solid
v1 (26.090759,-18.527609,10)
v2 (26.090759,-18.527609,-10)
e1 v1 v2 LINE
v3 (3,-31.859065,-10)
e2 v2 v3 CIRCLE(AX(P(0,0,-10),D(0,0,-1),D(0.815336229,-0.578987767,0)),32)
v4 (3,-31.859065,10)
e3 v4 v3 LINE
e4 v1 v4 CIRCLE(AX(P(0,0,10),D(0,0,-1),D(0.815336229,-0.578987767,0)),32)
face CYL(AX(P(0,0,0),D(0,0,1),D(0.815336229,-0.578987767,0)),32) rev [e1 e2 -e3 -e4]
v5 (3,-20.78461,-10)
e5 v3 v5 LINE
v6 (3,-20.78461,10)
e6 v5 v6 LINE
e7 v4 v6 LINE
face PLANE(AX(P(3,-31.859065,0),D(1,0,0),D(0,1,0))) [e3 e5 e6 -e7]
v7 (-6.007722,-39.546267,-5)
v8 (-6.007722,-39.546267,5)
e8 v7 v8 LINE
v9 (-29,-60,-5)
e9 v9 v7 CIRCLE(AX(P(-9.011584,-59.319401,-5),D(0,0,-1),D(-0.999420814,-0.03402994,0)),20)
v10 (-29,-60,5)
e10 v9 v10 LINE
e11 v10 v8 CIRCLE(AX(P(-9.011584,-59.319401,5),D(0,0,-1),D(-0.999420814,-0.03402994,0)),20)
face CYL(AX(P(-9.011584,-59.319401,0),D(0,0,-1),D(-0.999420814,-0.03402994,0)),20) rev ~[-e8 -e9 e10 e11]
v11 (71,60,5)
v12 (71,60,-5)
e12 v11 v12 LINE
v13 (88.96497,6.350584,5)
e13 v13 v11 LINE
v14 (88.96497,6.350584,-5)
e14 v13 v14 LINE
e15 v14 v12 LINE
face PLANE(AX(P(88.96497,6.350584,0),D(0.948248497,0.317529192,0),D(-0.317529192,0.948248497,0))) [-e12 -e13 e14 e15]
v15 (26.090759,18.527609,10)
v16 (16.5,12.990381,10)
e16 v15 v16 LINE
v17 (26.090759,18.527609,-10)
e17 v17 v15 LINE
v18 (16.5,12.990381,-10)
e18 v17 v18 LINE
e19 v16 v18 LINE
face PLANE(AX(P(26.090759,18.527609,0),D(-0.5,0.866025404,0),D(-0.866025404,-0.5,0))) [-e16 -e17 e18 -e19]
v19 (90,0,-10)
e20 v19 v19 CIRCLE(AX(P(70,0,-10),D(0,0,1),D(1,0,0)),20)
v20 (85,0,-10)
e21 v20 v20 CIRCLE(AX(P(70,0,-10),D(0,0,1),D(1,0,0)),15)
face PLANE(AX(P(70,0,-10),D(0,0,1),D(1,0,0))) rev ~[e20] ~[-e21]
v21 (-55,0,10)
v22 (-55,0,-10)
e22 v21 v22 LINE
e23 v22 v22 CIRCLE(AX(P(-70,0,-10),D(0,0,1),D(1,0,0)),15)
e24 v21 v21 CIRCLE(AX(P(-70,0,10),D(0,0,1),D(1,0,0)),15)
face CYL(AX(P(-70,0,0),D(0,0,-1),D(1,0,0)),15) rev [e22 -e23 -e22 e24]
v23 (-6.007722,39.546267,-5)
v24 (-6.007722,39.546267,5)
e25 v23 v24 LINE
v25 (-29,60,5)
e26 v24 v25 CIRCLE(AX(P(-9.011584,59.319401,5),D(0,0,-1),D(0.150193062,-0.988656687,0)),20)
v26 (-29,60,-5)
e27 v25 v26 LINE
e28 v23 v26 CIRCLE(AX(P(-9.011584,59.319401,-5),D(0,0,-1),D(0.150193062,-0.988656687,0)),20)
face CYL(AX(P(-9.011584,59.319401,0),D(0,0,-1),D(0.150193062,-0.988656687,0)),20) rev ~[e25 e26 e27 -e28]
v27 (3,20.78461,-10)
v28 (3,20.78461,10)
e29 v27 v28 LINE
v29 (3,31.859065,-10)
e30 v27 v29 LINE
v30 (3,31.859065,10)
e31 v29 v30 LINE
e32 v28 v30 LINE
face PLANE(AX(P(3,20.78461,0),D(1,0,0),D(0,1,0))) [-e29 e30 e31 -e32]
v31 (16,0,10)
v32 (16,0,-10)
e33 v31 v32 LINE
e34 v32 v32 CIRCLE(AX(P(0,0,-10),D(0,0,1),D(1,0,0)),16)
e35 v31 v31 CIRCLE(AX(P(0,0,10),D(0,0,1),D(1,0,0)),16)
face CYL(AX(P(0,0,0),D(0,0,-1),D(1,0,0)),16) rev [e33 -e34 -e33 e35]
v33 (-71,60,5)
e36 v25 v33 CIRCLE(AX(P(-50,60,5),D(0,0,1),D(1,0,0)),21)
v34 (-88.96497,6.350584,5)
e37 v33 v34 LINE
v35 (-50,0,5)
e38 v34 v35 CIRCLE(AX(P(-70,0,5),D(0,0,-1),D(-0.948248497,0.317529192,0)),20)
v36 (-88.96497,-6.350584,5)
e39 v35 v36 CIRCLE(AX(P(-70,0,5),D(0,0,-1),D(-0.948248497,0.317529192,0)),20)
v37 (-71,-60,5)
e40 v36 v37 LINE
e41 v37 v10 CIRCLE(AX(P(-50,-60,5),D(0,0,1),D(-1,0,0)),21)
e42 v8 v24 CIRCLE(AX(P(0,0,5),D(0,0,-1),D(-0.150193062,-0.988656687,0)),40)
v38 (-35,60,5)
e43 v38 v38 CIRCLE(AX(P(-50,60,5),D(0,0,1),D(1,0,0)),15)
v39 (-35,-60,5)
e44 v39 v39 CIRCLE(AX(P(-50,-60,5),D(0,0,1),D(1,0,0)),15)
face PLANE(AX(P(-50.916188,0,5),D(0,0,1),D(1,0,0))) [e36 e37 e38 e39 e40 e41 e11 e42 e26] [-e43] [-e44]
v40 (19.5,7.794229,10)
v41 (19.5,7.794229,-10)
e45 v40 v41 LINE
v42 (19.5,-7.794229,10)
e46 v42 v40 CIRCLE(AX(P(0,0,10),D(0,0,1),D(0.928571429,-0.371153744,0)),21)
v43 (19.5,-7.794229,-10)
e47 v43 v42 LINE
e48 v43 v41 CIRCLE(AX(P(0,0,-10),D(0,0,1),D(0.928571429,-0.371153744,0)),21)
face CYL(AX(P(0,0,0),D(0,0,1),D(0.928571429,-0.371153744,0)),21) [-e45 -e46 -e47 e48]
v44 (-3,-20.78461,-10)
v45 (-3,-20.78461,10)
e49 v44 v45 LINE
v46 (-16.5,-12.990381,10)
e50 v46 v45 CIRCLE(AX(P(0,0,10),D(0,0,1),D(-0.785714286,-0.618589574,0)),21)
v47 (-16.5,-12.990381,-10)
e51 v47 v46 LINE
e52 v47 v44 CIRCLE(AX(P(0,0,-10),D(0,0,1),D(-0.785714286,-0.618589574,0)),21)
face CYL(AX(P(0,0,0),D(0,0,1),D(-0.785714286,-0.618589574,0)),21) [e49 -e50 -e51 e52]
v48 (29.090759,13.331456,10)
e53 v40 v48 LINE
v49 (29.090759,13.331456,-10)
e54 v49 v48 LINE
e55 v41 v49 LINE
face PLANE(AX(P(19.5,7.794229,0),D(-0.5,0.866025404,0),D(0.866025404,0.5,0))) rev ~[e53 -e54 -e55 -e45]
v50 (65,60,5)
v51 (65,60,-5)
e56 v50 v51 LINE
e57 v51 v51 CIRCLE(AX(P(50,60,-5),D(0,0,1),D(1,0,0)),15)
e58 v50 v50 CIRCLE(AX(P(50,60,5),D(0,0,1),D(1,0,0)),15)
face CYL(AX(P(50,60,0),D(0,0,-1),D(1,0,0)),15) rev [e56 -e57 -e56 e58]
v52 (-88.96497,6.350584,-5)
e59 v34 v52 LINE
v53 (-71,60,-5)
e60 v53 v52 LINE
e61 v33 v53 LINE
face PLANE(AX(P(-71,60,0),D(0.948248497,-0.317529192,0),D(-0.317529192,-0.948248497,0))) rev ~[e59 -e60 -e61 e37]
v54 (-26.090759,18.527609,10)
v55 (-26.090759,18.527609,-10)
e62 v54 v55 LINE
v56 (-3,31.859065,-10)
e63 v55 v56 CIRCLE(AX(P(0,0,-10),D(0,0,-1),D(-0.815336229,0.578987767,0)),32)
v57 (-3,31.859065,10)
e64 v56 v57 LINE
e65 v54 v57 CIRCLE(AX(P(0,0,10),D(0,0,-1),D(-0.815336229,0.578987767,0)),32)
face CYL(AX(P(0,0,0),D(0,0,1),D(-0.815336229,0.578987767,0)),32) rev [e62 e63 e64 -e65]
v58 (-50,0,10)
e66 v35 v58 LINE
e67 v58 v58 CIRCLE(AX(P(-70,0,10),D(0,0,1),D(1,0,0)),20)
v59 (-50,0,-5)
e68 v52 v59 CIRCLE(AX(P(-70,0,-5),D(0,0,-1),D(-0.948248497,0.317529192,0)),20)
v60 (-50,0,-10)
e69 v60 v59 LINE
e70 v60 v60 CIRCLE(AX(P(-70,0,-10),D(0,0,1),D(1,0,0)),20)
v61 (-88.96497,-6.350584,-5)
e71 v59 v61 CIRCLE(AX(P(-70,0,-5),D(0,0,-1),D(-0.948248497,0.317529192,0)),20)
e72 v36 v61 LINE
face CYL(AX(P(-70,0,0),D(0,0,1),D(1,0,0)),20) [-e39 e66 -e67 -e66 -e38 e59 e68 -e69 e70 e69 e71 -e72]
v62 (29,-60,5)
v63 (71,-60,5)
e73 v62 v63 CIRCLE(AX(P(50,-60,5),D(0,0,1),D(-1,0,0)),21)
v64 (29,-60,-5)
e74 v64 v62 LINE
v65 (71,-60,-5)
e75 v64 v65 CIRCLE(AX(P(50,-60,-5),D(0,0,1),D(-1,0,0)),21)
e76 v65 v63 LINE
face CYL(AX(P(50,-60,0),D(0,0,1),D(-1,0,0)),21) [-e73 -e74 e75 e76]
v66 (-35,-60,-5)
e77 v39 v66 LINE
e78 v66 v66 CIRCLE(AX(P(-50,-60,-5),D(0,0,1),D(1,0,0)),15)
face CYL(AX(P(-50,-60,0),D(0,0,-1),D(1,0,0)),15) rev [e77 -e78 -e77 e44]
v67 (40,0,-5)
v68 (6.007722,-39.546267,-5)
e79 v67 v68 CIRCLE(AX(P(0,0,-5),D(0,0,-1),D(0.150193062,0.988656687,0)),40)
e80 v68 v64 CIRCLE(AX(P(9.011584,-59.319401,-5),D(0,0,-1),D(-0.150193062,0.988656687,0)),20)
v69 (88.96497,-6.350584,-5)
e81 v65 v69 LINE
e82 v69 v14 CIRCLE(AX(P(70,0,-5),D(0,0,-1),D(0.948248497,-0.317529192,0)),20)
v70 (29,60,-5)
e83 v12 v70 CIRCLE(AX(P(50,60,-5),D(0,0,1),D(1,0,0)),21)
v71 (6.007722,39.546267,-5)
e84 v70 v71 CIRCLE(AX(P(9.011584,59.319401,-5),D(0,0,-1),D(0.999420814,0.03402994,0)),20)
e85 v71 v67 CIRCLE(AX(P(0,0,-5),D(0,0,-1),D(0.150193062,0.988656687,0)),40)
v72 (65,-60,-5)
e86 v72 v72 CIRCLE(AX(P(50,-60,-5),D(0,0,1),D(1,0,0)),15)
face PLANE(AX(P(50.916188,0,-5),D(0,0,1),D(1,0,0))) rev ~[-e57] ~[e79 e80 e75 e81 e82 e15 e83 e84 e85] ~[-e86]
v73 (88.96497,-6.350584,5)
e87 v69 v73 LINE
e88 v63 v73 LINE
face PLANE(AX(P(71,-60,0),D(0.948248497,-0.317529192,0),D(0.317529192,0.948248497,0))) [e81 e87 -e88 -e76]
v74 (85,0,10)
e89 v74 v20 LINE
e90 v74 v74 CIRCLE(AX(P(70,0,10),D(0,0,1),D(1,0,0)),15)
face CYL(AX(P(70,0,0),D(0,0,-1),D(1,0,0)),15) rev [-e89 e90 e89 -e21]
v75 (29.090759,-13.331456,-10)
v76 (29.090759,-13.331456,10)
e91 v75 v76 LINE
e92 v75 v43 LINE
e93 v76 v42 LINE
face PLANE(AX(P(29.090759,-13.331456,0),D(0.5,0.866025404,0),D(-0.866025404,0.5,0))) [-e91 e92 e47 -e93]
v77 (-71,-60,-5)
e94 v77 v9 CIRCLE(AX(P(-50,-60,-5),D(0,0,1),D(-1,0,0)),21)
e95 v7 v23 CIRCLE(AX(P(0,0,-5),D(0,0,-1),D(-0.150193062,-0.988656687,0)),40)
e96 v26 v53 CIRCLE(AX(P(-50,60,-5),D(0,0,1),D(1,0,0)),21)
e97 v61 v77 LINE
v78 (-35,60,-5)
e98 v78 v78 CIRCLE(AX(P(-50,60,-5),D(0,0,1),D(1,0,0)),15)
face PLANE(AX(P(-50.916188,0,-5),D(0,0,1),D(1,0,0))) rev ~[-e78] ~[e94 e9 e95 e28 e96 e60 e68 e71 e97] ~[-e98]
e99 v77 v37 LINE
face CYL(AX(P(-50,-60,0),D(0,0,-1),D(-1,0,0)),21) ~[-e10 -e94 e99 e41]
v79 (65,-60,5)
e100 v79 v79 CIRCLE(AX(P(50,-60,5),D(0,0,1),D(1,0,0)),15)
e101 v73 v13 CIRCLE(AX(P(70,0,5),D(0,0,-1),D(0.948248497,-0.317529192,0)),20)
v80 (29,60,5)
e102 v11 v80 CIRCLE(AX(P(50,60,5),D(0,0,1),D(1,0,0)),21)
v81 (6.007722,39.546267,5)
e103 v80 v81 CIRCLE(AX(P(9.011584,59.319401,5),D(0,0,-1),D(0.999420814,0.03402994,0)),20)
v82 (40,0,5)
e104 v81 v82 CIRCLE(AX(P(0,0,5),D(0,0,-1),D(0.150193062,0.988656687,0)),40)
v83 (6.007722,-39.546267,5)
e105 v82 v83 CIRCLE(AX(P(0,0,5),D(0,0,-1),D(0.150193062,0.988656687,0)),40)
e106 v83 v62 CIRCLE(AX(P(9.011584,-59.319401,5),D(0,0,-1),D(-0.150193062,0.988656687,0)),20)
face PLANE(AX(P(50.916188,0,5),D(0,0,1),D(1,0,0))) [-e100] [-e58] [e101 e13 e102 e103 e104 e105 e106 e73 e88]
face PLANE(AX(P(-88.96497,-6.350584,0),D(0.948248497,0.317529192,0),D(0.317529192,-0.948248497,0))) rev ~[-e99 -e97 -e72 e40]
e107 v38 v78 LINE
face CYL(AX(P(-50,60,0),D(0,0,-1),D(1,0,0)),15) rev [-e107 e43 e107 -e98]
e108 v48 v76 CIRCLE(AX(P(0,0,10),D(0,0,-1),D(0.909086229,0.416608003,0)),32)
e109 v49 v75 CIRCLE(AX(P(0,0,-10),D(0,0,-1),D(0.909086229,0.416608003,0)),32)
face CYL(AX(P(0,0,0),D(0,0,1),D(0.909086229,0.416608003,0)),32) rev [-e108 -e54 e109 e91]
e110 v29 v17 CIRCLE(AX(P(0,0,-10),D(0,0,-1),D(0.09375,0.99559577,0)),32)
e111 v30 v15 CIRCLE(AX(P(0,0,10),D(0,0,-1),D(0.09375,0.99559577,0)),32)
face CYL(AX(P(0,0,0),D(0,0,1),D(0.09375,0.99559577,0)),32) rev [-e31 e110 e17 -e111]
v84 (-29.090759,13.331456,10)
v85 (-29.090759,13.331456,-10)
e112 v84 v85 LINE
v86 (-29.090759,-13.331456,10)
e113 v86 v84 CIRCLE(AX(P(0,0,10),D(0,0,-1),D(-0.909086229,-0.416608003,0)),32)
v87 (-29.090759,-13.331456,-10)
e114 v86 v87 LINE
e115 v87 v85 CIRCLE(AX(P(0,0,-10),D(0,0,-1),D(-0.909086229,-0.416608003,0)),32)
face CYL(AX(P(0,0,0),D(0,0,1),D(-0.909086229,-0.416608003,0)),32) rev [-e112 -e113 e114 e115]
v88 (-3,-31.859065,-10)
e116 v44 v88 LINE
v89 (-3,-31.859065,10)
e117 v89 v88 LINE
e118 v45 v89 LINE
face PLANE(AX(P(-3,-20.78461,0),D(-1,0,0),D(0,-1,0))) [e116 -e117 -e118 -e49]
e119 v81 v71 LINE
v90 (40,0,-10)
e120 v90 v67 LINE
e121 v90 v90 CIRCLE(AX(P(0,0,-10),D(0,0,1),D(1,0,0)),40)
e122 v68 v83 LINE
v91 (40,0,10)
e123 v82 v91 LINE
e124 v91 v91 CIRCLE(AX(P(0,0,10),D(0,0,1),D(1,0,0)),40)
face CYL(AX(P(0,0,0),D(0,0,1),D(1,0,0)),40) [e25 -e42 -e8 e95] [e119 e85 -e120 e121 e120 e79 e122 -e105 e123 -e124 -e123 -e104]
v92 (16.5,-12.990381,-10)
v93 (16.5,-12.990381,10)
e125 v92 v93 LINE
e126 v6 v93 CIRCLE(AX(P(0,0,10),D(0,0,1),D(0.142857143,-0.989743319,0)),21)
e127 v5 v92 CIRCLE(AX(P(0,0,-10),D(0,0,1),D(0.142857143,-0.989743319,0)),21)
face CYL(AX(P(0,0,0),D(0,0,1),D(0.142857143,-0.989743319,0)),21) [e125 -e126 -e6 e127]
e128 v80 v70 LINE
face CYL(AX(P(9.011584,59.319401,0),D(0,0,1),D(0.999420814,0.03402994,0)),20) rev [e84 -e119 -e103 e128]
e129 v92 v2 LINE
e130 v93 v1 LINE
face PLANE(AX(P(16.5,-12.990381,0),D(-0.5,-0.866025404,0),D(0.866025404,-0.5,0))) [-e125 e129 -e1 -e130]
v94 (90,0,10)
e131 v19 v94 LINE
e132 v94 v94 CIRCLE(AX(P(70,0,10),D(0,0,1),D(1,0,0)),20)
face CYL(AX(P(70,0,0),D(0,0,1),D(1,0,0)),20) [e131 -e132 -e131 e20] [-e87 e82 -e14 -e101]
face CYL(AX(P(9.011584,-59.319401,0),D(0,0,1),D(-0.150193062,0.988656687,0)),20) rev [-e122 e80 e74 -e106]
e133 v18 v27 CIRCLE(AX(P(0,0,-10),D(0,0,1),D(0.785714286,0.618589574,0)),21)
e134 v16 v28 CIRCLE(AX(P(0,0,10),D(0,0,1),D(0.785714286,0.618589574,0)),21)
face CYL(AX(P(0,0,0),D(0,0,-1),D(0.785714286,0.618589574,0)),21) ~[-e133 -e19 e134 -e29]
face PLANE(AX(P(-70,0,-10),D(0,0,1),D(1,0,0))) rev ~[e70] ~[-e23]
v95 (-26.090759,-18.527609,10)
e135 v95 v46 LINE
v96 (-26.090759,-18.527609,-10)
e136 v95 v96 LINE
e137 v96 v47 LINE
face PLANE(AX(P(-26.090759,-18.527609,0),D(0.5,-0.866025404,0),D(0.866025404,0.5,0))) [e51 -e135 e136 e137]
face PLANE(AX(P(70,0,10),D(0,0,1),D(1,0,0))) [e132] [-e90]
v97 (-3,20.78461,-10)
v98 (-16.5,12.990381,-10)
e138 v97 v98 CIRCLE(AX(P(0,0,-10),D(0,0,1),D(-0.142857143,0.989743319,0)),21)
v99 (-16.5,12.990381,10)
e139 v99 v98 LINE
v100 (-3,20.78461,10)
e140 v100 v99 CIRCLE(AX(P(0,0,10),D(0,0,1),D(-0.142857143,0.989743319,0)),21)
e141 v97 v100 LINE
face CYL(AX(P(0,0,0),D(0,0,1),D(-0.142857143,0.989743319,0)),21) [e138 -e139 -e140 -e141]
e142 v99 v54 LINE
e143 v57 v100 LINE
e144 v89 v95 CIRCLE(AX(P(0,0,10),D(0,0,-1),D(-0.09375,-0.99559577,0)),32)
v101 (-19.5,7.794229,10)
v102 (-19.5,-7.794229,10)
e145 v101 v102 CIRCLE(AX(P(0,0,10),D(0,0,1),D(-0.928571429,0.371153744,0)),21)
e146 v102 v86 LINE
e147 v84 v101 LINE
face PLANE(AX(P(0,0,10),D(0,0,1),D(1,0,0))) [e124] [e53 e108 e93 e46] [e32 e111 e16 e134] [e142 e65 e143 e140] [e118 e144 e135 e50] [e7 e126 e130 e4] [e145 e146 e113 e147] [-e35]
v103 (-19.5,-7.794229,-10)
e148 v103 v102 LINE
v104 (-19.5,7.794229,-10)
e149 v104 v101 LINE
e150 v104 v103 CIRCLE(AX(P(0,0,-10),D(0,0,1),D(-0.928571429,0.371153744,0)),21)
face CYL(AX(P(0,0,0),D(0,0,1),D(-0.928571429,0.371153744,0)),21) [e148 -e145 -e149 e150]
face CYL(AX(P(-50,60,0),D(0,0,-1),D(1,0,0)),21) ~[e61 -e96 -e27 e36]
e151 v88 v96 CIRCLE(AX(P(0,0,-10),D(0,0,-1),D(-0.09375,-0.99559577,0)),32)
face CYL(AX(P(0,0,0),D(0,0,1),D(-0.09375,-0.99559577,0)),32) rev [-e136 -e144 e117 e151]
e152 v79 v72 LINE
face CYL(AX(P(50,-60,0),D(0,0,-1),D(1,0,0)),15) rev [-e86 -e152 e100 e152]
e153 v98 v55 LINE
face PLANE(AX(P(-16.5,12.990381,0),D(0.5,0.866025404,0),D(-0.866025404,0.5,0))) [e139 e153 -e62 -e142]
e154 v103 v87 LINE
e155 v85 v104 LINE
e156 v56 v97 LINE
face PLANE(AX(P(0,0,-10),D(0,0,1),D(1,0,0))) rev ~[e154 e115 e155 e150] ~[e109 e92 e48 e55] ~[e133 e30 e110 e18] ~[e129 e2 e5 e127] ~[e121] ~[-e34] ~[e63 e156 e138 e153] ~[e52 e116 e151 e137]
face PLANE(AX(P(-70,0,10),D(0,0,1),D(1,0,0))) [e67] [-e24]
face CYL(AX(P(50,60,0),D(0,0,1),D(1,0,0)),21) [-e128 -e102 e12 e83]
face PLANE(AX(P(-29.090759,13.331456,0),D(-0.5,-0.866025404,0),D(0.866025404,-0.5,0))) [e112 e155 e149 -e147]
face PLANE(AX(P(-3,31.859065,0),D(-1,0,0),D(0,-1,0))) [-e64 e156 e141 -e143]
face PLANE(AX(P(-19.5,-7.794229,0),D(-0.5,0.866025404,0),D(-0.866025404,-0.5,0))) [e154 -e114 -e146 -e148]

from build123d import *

# Parameters (mm, degrees)
SKETCH1_R             = 20
SKETCH1_R_2           = 15
BOSS_EXTRUDE1_DEPTH   = 10
SKETCH1_R_3           = 40
SKETCH1_R_4           = 16
BOSS_EXTRUDE1_2_DEPTH = 10
BOSS_EXTRUDE1_3_DEPTH = 10
SKETCH1_4_R           = 15
BOSS_EXTRUDE2_DEPTH   = 5


with BuildPart() as part:
    # Sketch1 → Boss-Extrude1 (new, symmetric)
    with BuildSketch(Plane.XY):
        with Locations((-70, 0)):
            Circle(SKETCH1_R)
        with Locations((-70, 0)):
            Circle(SKETCH1_R_2, mode=Mode.SUBTRACT)
    extrude(amount=BOSS_EXTRUDE1_DEPTH, both=True)



with BuildPart() as body_2:
    # Sketch1 → Boss-Extrude1 2 (new, symmetric)
    with BuildSketch(Plane.XY):
        Circle(SKETCH1_R_3)
        with BuildLine():
            ThreePointArc((-16.5, -12.990381057), (-10.5, -18.186533479), (-3, -20.784609691))
            Line((-3, -20.784609691), (-3, -31.859064644))
            ThreePointArc((-3, -31.859064644), (-16, -27.712812921), (-26.090759323, -18.527608533))
            Line((-26.090759323, -18.527608533), (-16.5, -12.990381057))
        make_face(mode=Mode.SUBTRACT)
        with BuildLine():
            ThreePointArc((-19.5, 7.794228634), (-21, 0), (-19.5, -7.794228634))
            Line((-19.5, -7.794228634), (-29.090759323, -13.331456111))
            ThreePointArc((-29.090759323, -13.331456111), (-32, 0), (-29.090759323, 13.331456111))
            Line((-29.090759323, 13.331456111), (-19.5, 7.794228634))
        make_face(mode=Mode.SUBTRACT)
        with BuildLine():
            ThreePointArc((3, -20.784609691), (10.5, -18.186533479), (16.5, -12.990381057))
            Line((16.5, -12.990381057), (26.090759323, -18.527608533))
            ThreePointArc((26.090759323, -18.527608533), (16, -27.712812921), (3, -31.859064644))
            Line((3, -31.859064644), (3, -20.784609691))
        make_face(mode=Mode.SUBTRACT)
        with BuildLine():
            Line((-3, 31.859064644), (-3, 20.784609691))
            ThreePointArc((-3, 20.784609691), (-10.5, 18.186533479), (-16.5, 12.990381057))
            Line((-16.5, 12.990381057), (-26.090759323, 18.527608533))
            ThreePointArc((-26.090759323, 18.527608533), (-16, 27.712812921), (-3, 31.859064644))
        make_face(mode=Mode.SUBTRACT)
        Circle(SKETCH1_R_4, mode=Mode.SUBTRACT)
        with BuildLine():
            ThreePointArc((19.5, -7.794228634), (21, 0), (19.5, 7.794228634))
            Line((19.5, 7.794228634), (29.090759323, 13.331456111))
            ThreePointArc((29.090759323, 13.331456111), (32, 0), (29.090759323, -13.331456111))
            Line((29.090759323, -13.331456111), (19.5, -7.794228634))
        make_face(mode=Mode.SUBTRACT)
        with BuildLine():
            ThreePointArc((16.5, 12.990381057), (10.5, 18.186533479), (3, 20.784609691))
            Line((3, 20.784609691), (3, 31.859064644))
            ThreePointArc((3, 31.859064644), (16, 27.712812921), (26.090759323, 18.527608533))
            Line((26.090759323, 18.527608533), (16.5, 12.990381057))
        make_face(mode=Mode.SUBTRACT)
    extrude(amount=BOSS_EXTRUDE1_2_DEPTH, both=True)


with BuildPart() as body_3:
    # Sketch1 → Boss-Extrude1 3 (new, symmetric)
    with BuildSketch(Plane.XY):
        with Locations((70, 0)):
            Circle(SKETCH1_R)
        with Locations((70, 0)):
            Circle(SKETCH1_R_2, mode=Mode.SUBTRACT)
    extrude(amount=BOSS_EXTRUDE1_3_DEPTH, both=True)


with BuildPart() as part_1:
    add(part.part)

    add(body_2.part)  # Boss-Extrude2 merges body 2

    add(body_3.part)  # Boss-Extrude2 merges body 3
    # Sketch1<4> → Boss-Extrude2 (add, symmetric)
    # profile 1 of 2: a face of its own
    with BuildSketch(Plane.XY):
        with BuildLine():
            Line((-88.964969944, -6.350583834), (-71, -60))
            ThreePointArc((-71, -60), (-50, -81), (-29, -60))
            ThreePointArc((-29, -60), (-22.304723723, -44.376428641), (-6.007722482, -39.546267467))
            ThreePointArc((-6.007722482, -39.546267467), (-40, 0), (-6.007722482, 39.546267467))
            ThreePointArc((-6.007722482, 39.546267467), (-22.304723723, 44.376428641), (-29, 60))
            ThreePointArc((-29, 60), (-50, 81), (-71, 60))
            Line((-71, 60), (-88.964969944, 6.350583834))
            ThreePointArc((-88.964969944, 6.350583834), (-50, 0), (-88.964969944, -6.350583834))
        make_face()
        with Locations((-50, -60)):
            Circle(SKETCH1_4_R, mode=Mode.SUBTRACT)
        with Locations((-50, 60)):
            Circle(SKETCH1_4_R, mode=Mode.SUBTRACT)
    # profile 2 of 2: a face of its own
    with BuildSketch(Plane.XY):
        with BuildLine():
            ThreePointArc((6.007722482, 39.546267467), (40, 0), (6.007722482, -39.546267467))
            ThreePointArc((6.007722482, -39.546267467), (22.304723723, -44.376428641), (29, -60))
            ThreePointArc((29, -60), (50, -81), (71, -60))
            Line((71, -60), (88.964969944, -6.350583834))
            ThreePointArc((88.964969944, -6.350583834), (50, 0), (88.964969944, 6.350583834))
            Line((88.964969944, 6.350583834), (71, 60))
            ThreePointArc((71, 60), (50, 81), (29, 60))
            ThreePointArc((29, 60), (22.304723723, 44.376428641), (6.007722482, 39.546267467))
        make_face()
        with Locations((50, -60)):
            Circle(SKETCH1_4_R, mode=Mode.SUBTRACT)
        with Locations((50, 60)):
            Circle(SKETCH1_4_R, mode=Mode.SUBTRACT)
    extrude(amount=BOSS_EXTRUDE2_DEPTH, both=True)


solid = part_1.part
